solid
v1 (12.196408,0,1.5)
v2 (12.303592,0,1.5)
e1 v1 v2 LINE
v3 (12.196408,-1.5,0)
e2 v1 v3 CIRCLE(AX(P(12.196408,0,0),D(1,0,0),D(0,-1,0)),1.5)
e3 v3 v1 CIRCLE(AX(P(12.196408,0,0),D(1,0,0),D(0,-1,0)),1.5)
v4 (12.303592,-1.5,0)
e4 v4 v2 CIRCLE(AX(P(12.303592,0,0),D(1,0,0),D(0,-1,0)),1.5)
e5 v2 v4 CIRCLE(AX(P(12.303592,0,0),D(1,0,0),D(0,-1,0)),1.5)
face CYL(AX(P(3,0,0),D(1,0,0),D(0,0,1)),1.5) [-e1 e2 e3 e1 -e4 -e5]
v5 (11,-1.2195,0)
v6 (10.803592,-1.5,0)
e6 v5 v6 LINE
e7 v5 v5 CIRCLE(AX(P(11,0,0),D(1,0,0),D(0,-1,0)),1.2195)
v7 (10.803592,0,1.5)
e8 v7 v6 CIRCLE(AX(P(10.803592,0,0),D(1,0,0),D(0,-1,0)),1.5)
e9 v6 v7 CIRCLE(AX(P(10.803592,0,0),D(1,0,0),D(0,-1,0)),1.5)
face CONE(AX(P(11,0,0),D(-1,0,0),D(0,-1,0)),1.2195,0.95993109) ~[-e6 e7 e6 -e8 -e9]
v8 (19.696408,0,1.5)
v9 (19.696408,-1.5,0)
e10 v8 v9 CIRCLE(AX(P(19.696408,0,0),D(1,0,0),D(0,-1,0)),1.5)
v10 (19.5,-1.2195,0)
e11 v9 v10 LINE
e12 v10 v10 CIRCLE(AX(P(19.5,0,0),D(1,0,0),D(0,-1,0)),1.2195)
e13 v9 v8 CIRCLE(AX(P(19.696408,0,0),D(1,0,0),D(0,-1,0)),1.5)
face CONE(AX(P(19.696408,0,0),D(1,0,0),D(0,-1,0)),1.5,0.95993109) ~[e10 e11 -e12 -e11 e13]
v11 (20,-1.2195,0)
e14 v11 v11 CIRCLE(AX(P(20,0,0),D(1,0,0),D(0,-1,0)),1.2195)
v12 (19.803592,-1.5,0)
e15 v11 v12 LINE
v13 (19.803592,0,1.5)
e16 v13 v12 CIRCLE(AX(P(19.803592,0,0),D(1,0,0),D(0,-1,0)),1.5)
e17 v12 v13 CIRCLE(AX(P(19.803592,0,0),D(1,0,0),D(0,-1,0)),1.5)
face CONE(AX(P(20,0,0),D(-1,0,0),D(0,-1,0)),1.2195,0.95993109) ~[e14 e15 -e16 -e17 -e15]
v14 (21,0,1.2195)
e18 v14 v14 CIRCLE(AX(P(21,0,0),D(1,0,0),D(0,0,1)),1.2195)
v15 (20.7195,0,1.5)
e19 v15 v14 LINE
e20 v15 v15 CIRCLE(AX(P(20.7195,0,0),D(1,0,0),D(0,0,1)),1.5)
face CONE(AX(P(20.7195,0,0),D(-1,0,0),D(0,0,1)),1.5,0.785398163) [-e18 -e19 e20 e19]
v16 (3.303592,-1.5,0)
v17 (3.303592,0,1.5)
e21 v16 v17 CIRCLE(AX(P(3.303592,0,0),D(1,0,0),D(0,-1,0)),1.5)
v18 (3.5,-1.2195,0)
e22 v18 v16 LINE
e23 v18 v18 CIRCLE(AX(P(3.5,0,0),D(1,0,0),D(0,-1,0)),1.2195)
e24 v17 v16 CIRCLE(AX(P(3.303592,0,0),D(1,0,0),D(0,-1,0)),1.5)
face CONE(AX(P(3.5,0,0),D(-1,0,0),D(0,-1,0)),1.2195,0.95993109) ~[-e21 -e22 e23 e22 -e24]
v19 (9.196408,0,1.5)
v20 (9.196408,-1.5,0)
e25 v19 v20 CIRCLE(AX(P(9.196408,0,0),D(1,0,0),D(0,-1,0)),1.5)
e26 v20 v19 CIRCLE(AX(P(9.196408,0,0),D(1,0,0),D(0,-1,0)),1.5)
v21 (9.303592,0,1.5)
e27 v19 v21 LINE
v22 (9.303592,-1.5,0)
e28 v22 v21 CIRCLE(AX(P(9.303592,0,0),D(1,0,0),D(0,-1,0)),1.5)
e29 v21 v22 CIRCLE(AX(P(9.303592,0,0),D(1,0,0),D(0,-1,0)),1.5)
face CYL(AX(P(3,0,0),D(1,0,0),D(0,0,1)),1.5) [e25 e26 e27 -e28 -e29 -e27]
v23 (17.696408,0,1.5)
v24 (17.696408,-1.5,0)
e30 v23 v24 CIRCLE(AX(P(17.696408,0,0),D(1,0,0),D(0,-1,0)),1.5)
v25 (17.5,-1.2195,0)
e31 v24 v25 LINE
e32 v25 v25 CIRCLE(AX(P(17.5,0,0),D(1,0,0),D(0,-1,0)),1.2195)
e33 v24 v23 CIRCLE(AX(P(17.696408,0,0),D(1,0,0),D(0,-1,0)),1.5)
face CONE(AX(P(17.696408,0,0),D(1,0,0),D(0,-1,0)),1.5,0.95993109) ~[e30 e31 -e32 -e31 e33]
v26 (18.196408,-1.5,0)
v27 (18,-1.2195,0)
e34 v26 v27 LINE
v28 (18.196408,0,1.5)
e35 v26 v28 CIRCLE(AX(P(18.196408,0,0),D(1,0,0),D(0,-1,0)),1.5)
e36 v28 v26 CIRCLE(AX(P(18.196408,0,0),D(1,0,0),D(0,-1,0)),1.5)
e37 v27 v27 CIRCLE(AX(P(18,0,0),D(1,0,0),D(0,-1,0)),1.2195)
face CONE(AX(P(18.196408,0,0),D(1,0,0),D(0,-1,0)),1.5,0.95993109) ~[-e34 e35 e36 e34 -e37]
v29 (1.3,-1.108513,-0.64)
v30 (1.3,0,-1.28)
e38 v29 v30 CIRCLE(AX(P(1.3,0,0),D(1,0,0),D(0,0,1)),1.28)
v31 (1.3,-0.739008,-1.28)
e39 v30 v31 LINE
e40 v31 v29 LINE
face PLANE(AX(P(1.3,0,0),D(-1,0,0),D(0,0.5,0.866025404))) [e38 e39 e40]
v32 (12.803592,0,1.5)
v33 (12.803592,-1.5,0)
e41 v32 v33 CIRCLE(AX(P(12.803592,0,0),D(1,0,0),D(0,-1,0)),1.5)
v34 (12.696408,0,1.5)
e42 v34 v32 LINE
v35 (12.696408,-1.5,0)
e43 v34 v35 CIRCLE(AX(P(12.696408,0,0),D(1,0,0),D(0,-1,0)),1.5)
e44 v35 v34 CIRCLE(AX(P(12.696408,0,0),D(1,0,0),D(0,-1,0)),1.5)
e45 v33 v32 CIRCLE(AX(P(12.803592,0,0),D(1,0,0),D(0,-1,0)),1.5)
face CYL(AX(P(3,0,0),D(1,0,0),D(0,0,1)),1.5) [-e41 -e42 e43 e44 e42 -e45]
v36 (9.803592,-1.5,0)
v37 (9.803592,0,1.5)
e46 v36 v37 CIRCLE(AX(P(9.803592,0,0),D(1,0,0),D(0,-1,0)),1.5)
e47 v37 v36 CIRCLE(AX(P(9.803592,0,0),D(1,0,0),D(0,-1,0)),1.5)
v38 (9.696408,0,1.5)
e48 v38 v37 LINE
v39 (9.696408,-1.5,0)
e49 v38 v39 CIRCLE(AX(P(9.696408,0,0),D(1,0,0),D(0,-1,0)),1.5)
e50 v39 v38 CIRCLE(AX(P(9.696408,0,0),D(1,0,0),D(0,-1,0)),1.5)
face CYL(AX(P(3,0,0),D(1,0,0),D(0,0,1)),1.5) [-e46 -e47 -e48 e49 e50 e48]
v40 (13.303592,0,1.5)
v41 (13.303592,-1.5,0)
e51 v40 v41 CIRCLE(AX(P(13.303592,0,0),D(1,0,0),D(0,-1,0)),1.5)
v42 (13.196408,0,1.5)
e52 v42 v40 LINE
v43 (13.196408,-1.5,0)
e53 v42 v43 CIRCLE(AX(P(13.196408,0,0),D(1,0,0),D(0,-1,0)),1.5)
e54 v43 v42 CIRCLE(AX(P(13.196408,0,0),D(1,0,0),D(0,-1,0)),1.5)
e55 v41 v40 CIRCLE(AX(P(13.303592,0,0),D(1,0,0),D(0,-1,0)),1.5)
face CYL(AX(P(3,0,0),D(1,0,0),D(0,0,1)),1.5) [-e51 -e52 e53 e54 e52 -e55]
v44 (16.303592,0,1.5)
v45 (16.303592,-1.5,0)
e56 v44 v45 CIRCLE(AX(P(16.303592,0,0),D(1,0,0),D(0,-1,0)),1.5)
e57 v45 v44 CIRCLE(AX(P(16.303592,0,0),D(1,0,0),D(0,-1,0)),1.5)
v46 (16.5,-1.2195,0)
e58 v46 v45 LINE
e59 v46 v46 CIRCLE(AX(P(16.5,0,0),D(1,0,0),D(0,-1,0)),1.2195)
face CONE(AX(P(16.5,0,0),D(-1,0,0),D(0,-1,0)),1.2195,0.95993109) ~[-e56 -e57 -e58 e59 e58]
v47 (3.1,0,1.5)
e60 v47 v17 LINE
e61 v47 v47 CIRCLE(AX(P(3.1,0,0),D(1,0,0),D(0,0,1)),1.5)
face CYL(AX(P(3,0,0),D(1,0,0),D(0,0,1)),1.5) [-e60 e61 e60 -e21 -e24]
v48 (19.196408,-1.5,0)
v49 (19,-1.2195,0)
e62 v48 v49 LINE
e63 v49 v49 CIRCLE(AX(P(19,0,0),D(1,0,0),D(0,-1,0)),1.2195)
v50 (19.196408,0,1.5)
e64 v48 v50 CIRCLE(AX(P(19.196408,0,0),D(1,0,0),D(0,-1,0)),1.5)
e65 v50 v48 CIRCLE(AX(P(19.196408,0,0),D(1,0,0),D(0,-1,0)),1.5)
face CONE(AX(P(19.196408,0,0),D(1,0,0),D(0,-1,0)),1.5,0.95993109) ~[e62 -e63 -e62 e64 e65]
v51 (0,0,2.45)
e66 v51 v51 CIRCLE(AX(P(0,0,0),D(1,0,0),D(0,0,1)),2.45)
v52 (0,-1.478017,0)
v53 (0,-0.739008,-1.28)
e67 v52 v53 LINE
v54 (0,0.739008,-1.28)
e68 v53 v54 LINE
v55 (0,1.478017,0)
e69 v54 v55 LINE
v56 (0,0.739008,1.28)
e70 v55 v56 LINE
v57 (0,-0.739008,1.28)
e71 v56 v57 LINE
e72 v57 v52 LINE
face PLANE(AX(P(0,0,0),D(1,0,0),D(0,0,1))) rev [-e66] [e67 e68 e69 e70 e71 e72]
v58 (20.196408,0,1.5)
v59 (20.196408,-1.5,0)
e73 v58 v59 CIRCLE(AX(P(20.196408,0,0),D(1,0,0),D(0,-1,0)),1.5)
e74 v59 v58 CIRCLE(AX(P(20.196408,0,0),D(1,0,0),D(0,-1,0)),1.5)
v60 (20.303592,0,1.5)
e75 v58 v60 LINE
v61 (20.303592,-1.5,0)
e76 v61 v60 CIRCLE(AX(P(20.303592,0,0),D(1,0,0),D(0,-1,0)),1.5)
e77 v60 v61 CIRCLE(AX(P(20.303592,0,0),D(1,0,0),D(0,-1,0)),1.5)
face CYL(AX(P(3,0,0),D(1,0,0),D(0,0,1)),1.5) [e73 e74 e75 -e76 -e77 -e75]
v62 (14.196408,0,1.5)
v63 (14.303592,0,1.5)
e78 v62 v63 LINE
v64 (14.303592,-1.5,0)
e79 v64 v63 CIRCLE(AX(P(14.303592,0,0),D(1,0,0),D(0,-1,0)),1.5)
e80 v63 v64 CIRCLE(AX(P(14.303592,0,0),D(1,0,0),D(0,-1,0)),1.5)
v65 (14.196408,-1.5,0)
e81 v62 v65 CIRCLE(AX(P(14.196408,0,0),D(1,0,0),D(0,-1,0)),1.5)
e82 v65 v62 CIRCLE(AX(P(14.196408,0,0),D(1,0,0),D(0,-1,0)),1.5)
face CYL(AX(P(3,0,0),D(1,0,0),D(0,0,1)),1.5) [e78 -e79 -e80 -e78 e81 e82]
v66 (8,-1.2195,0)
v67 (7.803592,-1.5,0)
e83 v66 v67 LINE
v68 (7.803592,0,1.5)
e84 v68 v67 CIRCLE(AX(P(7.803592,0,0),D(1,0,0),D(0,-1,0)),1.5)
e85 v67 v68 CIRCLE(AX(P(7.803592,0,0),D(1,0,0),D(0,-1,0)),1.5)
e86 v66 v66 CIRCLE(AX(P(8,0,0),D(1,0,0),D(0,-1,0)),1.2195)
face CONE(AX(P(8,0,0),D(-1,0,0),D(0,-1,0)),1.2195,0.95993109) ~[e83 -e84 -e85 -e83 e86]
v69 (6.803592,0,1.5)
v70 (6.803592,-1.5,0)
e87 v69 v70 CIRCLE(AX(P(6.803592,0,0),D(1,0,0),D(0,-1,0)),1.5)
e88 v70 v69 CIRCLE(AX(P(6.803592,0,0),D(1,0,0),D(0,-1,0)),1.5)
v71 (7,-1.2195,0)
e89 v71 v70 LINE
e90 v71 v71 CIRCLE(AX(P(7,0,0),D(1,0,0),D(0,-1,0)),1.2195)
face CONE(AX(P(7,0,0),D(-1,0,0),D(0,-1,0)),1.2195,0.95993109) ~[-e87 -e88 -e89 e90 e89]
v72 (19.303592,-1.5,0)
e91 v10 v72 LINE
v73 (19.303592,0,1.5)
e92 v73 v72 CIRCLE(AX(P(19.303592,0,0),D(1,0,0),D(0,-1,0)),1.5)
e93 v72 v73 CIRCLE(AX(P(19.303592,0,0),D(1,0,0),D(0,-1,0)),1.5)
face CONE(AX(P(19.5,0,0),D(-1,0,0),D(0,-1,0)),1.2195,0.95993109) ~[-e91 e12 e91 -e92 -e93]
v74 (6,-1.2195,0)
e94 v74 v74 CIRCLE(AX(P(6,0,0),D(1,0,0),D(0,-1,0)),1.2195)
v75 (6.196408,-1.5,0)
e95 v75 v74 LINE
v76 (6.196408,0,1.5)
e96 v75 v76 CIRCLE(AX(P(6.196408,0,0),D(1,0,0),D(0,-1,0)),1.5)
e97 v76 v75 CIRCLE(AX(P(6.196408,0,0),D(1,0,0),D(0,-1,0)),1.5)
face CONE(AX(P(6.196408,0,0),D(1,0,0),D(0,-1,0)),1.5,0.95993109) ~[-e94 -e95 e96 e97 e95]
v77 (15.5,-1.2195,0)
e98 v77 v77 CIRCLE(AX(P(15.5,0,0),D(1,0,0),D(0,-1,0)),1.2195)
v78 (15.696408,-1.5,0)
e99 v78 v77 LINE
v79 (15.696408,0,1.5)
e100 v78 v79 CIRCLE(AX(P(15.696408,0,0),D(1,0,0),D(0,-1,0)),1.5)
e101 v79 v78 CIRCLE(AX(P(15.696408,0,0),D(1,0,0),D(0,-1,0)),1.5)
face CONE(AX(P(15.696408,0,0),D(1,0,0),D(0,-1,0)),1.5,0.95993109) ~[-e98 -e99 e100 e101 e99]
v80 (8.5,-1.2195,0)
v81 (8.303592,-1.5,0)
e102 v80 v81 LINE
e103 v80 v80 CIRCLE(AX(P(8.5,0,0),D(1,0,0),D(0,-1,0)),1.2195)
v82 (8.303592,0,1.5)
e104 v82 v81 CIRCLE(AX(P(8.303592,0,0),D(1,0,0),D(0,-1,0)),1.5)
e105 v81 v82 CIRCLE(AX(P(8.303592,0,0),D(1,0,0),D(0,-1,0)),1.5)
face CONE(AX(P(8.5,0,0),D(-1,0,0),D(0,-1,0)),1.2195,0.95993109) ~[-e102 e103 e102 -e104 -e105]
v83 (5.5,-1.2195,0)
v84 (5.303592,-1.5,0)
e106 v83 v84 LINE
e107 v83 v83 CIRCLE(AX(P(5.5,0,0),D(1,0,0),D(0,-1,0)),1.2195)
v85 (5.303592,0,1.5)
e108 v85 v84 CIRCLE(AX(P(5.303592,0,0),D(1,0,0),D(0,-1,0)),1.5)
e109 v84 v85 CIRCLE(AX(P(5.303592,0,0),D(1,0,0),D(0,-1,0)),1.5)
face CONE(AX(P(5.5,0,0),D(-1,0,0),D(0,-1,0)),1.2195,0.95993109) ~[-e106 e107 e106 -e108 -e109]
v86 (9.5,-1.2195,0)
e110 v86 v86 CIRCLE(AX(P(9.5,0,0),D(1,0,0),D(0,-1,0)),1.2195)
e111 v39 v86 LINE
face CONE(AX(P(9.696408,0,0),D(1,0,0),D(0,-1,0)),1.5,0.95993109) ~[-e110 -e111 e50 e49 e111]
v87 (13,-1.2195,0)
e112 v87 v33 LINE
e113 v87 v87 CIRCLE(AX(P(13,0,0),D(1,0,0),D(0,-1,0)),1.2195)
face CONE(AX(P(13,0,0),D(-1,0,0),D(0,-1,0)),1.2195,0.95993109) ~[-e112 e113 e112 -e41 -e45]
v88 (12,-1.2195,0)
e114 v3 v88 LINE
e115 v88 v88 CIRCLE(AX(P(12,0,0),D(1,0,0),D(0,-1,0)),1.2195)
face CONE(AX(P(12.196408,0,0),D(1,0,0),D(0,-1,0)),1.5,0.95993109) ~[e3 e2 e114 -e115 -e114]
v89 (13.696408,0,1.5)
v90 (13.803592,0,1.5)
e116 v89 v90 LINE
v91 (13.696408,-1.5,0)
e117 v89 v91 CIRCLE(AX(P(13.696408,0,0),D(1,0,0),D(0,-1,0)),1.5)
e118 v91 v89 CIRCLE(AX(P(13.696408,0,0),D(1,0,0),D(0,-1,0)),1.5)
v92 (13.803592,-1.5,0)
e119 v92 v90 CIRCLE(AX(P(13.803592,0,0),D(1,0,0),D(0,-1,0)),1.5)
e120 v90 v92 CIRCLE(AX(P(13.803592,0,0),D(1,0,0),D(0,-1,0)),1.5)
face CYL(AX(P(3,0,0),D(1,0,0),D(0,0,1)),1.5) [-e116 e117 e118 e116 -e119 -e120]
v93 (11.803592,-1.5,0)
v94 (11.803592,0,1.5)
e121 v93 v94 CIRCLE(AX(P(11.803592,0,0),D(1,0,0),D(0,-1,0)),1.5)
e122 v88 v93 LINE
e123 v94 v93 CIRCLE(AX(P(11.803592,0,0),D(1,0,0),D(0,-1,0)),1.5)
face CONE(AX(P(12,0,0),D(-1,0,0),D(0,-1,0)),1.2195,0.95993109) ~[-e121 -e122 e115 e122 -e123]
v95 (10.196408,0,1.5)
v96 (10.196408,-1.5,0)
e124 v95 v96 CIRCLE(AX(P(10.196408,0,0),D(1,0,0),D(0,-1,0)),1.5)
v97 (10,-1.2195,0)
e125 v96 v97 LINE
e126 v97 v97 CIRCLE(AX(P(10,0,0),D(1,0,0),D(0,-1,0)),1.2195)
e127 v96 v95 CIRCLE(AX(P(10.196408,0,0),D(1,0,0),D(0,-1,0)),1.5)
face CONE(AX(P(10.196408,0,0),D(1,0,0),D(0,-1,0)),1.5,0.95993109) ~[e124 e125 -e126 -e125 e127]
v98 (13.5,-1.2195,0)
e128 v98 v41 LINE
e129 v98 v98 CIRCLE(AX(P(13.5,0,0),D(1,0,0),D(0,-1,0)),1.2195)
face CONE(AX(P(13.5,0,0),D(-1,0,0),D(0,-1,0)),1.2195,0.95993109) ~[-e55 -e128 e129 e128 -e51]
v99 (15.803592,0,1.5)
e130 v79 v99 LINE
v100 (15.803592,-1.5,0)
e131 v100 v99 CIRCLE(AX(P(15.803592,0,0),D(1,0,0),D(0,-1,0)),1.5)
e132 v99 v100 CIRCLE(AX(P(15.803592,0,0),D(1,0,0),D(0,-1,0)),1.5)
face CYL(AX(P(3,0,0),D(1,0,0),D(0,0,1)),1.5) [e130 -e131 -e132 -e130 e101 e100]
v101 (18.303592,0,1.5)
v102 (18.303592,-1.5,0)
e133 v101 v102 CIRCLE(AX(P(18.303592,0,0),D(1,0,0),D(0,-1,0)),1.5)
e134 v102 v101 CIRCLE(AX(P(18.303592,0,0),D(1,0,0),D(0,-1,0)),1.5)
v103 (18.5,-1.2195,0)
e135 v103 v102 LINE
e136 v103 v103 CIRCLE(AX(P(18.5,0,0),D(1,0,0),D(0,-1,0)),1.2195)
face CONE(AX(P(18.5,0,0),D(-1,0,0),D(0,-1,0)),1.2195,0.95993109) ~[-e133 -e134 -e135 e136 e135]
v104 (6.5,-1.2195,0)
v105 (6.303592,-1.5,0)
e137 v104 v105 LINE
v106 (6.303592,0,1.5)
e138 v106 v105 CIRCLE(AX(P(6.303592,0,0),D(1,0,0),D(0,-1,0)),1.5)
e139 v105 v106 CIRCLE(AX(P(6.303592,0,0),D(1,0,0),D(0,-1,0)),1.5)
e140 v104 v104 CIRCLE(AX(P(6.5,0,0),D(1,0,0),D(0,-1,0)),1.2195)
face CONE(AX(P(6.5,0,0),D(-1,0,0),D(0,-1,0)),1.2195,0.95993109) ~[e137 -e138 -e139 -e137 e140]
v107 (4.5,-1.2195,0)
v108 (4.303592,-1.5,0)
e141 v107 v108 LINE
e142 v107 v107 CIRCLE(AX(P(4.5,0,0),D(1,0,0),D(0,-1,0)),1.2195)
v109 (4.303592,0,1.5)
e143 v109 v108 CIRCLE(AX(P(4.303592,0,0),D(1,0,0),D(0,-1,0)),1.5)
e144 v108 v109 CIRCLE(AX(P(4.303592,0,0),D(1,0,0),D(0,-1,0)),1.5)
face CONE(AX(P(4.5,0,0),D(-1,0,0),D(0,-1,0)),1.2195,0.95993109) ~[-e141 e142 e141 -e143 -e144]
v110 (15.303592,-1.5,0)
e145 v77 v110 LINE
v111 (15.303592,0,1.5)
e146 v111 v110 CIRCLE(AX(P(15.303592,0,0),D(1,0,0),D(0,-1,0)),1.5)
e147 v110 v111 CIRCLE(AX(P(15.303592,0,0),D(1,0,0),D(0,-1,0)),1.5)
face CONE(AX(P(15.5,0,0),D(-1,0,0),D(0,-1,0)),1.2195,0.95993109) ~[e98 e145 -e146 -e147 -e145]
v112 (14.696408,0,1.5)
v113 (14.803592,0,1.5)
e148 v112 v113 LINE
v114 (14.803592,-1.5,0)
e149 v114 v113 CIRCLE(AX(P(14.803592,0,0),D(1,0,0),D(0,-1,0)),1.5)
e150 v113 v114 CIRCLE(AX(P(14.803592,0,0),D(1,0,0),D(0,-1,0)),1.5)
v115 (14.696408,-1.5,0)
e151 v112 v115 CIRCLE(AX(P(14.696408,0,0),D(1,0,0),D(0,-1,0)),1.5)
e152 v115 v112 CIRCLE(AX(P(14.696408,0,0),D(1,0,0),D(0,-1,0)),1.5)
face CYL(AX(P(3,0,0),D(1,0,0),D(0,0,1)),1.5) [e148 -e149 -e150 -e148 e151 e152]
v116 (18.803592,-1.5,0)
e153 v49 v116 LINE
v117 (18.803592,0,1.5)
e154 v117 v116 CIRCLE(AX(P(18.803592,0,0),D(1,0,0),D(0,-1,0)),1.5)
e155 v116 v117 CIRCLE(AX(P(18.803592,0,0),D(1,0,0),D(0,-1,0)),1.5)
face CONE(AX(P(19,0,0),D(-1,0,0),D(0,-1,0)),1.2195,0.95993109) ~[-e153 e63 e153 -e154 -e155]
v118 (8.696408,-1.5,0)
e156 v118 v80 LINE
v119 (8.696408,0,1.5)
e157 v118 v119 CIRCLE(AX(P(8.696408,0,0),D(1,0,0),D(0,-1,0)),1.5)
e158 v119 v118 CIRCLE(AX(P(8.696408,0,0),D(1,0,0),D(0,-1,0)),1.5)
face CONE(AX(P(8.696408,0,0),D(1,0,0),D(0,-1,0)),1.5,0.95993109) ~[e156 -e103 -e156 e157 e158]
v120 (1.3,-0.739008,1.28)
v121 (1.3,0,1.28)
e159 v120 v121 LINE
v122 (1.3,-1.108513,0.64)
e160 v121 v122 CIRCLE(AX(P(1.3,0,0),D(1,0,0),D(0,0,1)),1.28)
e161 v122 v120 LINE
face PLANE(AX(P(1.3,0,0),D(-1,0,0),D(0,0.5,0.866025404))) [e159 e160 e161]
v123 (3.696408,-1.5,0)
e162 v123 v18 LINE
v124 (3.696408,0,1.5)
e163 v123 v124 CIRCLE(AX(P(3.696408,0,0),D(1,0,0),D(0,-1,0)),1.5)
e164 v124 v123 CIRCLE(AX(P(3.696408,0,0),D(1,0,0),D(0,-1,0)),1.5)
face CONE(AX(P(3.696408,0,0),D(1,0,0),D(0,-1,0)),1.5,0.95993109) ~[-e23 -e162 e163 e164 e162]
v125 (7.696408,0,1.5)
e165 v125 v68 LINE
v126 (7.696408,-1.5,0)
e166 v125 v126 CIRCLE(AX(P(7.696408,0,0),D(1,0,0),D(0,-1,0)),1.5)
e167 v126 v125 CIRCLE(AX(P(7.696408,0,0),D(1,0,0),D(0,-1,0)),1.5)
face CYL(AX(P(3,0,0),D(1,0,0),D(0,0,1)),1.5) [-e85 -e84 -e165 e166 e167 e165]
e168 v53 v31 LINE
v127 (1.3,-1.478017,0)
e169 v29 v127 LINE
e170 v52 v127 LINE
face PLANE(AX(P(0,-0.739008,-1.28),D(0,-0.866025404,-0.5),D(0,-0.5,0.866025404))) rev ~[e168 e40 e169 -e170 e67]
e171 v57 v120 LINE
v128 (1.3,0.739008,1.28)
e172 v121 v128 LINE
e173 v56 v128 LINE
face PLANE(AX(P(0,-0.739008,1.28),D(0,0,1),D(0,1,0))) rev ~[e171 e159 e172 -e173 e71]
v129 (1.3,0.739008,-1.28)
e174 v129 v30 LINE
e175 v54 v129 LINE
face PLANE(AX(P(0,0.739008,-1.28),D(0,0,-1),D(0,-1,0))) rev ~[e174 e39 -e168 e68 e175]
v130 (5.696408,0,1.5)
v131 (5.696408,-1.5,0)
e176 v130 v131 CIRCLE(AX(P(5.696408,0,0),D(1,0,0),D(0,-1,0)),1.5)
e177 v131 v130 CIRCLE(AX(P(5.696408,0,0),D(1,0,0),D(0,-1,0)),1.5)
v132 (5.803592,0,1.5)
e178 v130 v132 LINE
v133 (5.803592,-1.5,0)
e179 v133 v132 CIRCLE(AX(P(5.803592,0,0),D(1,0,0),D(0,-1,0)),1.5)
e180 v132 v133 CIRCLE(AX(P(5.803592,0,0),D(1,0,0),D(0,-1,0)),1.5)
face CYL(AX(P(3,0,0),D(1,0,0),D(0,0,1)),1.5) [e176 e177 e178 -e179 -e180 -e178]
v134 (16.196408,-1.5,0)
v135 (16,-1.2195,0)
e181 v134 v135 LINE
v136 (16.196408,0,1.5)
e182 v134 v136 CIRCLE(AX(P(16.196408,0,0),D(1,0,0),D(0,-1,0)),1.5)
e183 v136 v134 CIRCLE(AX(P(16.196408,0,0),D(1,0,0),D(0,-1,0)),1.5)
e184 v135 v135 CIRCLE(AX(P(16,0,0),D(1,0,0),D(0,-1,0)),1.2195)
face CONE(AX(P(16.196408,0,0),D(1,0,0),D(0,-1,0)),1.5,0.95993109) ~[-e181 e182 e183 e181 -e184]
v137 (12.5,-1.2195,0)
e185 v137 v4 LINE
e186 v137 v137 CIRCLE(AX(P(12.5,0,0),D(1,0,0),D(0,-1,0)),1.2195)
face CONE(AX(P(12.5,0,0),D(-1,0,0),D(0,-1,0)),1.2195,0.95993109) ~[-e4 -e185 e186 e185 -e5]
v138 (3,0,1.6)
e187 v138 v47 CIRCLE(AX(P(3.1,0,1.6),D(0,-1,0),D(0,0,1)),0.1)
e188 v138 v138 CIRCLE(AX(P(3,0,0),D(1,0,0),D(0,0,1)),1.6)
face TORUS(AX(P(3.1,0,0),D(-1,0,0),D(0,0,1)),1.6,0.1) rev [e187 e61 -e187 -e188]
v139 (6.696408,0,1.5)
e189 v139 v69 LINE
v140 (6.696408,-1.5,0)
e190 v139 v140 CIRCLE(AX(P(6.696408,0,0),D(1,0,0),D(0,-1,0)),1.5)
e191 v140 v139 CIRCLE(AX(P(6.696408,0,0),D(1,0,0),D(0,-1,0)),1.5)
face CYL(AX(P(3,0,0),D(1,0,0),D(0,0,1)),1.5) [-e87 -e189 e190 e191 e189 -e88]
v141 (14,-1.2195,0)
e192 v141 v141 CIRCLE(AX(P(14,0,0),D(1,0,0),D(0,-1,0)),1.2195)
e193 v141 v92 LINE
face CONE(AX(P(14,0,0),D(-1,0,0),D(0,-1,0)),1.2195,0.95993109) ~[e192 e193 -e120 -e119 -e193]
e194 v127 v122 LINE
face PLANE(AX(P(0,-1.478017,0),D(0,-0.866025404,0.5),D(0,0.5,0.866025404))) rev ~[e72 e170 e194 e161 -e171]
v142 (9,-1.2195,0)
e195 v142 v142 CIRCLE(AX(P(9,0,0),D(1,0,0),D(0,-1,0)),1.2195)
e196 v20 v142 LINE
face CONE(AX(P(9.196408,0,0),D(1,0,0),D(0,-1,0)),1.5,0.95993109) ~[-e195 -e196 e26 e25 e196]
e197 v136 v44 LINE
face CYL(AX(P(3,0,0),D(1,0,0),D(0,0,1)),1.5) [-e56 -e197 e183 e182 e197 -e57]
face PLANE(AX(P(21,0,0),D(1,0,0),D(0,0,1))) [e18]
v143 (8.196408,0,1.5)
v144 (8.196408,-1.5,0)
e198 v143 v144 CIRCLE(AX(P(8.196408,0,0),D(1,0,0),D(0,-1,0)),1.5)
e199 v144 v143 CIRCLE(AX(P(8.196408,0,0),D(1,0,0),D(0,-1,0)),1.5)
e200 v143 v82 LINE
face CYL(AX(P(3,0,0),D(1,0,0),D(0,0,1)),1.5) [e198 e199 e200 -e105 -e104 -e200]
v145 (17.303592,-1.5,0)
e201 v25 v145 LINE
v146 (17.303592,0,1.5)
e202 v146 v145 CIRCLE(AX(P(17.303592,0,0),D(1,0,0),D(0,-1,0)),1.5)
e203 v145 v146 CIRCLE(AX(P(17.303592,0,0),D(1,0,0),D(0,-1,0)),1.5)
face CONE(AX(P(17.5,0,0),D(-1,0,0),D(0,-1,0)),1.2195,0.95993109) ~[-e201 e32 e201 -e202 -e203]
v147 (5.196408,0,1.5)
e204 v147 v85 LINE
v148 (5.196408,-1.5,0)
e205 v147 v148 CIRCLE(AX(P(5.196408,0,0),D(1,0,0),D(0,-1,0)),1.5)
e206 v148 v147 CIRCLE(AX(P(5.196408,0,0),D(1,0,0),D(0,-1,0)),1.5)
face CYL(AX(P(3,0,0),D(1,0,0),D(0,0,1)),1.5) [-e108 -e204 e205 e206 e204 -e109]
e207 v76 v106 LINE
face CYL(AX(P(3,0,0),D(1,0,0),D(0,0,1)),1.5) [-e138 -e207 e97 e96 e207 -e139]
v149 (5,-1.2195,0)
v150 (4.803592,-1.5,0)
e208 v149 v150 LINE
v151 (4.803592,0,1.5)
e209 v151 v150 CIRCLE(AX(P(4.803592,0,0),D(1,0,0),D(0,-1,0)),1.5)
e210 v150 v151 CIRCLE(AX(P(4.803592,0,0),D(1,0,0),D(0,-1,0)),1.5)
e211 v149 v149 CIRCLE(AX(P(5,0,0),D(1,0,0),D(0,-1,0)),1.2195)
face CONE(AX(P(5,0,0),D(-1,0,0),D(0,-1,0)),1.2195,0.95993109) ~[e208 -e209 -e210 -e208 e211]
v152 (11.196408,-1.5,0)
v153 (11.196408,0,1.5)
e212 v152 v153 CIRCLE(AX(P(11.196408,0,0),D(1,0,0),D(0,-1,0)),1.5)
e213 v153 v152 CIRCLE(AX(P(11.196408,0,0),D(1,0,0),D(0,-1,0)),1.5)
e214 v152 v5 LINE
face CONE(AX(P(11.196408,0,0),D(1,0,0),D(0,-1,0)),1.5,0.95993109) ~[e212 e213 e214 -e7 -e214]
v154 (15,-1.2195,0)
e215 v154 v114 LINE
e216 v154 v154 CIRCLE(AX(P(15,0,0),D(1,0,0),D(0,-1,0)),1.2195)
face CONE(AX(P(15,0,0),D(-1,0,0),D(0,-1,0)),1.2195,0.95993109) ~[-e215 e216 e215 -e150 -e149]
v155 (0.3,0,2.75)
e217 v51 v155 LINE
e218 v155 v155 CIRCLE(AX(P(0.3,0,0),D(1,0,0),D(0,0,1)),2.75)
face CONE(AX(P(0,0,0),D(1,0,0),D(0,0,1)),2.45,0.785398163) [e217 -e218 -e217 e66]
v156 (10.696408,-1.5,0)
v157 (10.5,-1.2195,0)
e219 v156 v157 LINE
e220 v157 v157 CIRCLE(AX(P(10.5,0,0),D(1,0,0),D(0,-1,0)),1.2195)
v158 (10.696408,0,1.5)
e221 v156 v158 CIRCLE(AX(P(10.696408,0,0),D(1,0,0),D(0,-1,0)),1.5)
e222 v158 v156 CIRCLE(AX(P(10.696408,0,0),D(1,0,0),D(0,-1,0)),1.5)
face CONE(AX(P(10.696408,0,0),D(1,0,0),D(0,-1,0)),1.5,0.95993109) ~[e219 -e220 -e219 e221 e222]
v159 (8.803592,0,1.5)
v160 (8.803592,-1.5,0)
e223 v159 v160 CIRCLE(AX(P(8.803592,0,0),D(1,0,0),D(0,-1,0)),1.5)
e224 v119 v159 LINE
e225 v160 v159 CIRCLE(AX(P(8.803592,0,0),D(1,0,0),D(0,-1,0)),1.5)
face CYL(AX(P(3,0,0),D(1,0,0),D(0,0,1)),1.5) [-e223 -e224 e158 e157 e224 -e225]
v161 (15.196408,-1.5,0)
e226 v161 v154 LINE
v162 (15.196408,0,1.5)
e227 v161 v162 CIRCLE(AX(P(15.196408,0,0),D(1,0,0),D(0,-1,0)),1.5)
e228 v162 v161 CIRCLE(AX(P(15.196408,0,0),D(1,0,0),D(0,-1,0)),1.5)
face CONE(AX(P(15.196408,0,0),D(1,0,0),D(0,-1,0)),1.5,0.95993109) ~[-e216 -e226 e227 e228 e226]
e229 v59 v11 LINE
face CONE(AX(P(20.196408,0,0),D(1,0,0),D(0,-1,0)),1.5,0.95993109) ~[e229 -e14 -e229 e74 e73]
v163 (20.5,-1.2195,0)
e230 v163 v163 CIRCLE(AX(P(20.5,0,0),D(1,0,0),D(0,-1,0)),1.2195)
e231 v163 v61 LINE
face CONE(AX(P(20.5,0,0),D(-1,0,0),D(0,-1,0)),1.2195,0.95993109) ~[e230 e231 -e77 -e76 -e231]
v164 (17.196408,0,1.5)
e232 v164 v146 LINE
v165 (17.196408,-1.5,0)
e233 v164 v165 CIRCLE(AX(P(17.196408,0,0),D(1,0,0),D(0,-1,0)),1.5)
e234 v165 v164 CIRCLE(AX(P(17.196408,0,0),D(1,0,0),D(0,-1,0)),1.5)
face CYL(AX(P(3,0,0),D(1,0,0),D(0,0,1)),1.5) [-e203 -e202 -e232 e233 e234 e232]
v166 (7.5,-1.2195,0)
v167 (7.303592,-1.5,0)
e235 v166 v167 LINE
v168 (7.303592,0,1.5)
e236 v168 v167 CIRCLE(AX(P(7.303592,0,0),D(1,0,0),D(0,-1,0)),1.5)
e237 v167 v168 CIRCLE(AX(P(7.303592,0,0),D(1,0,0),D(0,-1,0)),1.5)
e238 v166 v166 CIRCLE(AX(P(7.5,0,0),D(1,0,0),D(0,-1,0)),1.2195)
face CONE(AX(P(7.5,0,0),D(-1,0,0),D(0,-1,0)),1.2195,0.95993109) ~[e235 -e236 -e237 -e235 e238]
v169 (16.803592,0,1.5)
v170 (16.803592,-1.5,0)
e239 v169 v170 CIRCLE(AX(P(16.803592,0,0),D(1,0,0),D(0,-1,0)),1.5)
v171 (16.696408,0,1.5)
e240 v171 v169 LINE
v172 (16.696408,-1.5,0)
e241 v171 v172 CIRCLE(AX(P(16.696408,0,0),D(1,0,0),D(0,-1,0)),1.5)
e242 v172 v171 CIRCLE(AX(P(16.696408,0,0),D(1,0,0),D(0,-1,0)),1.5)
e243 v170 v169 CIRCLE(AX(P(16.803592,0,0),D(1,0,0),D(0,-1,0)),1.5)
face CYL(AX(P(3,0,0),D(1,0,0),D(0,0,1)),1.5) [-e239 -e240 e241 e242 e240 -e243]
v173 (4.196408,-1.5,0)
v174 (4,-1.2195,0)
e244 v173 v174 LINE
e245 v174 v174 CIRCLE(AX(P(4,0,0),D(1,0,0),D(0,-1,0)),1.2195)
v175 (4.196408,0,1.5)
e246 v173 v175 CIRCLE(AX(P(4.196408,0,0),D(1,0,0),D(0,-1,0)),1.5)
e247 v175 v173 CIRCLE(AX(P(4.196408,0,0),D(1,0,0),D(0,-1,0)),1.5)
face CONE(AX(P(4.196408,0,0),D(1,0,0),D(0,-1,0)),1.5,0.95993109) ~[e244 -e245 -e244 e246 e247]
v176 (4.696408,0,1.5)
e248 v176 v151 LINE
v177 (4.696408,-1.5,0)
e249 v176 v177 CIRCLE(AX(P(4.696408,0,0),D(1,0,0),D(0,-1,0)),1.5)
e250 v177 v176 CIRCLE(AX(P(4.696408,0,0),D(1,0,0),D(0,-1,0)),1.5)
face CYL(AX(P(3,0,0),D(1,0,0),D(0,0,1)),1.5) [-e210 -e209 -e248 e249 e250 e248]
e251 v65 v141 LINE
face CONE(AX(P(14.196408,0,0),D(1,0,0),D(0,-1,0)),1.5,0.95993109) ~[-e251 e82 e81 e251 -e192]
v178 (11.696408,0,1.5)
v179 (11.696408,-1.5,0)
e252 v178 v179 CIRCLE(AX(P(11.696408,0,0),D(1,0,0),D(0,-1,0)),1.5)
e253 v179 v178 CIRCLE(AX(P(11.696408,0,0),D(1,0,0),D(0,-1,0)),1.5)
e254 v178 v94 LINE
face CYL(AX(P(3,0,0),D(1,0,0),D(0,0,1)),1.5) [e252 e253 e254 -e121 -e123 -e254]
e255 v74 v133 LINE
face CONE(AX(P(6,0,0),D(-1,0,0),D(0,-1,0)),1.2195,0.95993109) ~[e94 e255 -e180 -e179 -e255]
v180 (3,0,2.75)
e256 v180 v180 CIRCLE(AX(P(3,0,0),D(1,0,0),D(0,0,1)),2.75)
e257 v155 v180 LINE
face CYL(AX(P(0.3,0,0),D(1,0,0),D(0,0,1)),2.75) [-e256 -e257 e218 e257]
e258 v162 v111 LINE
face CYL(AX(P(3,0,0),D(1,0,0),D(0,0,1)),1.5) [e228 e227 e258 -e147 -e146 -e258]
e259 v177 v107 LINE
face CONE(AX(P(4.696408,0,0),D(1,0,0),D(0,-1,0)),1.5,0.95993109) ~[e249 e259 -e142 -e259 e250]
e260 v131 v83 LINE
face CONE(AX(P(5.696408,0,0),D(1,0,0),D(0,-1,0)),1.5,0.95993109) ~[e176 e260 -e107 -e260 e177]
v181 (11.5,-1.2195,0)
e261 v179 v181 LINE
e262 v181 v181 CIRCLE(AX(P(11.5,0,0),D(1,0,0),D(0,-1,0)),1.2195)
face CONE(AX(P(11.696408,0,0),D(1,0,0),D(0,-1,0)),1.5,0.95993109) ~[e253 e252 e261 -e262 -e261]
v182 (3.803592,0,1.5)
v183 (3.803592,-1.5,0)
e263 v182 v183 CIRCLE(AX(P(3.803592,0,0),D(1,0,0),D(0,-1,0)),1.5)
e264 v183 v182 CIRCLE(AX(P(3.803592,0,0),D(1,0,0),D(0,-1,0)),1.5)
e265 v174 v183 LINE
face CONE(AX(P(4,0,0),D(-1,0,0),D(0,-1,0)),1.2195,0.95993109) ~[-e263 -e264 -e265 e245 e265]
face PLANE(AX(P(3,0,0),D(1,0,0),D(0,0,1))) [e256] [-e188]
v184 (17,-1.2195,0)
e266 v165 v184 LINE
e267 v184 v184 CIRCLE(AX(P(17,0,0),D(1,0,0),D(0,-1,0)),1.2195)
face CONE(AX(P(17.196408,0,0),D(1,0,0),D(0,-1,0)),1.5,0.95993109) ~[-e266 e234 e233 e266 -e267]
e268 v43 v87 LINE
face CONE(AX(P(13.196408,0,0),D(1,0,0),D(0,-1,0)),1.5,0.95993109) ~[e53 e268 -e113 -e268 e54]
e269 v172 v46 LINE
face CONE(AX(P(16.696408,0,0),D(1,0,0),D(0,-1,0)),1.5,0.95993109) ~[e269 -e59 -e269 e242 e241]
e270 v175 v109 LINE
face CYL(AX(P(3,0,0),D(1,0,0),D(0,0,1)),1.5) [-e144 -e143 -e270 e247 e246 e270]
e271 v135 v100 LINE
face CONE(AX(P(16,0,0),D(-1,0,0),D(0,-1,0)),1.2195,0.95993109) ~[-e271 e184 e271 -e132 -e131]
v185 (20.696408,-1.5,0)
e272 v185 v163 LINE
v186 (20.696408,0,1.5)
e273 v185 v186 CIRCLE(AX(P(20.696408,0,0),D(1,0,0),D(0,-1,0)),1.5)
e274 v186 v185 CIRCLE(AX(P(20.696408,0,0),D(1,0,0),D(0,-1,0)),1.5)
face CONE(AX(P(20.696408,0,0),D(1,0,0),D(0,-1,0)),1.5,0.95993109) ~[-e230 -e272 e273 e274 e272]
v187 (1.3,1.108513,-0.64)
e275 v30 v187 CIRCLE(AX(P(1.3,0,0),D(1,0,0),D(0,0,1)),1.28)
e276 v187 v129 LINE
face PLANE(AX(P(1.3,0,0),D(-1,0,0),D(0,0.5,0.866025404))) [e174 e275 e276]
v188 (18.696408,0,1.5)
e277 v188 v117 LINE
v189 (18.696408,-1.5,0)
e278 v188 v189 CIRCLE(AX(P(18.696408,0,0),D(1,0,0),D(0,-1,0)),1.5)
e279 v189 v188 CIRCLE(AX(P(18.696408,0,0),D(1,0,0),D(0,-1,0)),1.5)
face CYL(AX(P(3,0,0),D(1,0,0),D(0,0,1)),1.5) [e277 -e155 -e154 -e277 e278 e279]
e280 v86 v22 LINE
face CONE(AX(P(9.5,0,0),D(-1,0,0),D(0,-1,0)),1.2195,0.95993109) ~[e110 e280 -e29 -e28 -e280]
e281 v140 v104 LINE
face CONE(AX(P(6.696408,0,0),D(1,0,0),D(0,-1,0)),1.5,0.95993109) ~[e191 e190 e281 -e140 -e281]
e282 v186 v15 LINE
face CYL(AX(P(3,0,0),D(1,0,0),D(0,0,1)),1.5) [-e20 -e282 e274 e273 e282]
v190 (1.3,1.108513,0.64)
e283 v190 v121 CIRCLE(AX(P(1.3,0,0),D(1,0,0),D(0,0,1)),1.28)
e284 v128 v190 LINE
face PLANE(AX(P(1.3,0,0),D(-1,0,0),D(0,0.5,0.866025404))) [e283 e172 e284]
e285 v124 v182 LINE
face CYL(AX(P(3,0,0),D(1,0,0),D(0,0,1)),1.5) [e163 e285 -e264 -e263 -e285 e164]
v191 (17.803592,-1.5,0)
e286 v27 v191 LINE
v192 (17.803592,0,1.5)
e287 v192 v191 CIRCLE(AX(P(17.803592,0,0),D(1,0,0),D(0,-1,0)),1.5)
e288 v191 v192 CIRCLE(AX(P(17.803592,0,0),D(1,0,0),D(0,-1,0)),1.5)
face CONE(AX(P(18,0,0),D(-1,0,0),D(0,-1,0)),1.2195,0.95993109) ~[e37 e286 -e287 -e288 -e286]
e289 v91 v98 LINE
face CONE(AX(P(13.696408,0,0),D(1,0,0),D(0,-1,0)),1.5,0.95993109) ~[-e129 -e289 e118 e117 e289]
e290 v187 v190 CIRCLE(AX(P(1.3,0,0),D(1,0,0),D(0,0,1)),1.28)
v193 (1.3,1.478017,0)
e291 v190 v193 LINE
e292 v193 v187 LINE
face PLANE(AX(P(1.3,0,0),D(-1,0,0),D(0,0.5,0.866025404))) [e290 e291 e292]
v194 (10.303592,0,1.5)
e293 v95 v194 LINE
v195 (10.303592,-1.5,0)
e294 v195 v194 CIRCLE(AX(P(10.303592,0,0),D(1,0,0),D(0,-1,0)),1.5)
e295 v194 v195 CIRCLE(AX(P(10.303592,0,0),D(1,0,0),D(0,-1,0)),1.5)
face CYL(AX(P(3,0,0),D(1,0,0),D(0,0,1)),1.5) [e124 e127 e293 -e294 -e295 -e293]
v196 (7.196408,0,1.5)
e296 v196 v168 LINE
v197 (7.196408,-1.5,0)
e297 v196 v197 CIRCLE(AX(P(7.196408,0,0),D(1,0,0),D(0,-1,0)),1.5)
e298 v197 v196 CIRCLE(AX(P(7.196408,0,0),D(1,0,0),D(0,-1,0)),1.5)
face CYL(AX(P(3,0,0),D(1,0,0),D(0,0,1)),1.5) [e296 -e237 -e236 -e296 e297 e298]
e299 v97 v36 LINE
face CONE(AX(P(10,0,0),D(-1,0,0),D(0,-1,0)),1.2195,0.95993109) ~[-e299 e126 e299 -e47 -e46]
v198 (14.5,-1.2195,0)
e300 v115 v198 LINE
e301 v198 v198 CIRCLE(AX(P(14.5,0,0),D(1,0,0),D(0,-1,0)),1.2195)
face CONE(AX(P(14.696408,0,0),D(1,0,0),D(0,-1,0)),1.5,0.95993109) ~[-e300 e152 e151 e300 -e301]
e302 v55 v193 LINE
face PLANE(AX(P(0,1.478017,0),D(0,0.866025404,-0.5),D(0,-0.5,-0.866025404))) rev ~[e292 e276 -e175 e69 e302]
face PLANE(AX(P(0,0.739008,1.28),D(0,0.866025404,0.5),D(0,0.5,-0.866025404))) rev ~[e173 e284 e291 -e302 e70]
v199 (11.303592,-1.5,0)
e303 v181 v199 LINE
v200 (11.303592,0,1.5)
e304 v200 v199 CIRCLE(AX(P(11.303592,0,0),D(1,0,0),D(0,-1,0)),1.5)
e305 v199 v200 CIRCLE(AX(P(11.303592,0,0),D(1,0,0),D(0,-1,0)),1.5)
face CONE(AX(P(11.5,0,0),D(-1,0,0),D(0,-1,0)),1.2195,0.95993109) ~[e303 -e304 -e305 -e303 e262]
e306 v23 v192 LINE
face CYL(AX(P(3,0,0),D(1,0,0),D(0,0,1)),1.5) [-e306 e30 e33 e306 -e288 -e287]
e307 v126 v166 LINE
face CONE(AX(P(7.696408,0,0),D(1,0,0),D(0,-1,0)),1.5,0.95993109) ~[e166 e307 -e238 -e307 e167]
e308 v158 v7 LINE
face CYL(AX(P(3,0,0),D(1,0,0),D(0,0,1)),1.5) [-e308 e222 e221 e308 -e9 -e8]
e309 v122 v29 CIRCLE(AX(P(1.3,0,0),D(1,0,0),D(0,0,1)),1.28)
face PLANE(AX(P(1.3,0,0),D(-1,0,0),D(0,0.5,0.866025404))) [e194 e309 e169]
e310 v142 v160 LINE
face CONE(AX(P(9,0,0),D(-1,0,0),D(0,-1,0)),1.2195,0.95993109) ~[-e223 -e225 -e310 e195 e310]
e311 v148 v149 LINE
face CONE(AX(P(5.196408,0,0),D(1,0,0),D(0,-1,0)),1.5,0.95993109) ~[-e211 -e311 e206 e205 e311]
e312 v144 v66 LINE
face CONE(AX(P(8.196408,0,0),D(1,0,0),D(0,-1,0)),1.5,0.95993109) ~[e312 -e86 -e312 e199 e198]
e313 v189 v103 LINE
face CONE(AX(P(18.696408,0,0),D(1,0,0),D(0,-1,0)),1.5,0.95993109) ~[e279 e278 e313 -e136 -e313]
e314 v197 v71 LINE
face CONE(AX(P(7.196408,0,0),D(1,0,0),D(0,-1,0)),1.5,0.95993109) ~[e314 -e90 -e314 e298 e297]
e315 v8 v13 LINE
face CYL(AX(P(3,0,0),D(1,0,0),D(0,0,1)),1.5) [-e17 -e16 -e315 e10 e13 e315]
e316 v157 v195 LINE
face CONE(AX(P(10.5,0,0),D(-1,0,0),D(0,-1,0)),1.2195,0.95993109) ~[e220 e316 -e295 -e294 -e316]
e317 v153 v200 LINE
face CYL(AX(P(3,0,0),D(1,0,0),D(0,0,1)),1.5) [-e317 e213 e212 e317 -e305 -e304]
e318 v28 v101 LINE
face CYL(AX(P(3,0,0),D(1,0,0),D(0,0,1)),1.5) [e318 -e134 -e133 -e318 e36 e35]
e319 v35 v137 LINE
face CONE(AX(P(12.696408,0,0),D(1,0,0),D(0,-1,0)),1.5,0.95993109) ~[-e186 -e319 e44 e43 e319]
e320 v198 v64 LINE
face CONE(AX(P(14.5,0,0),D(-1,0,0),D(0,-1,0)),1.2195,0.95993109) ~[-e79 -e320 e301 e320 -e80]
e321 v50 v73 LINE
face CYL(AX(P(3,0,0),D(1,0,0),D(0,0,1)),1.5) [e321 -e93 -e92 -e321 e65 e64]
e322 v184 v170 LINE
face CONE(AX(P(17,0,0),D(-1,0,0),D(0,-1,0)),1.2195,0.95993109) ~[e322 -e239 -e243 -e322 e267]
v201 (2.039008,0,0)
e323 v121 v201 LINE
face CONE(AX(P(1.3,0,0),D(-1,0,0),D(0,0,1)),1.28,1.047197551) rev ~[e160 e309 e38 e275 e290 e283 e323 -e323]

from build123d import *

# Parameters (mm, degrees)
FILLET1_R       = 0.1
HEX_2_DEPTH     = 1.3
THDSCHPAT_COUNT = 35
THDSCHPAT_PITCH = 0.5


with BuildPart() as part:
    # BodySke → Base-Revolve (revolve)
    with BuildSketch(Plane.XY, mode=Mode.PRIVATE) as base_revolve_sk:
        Polygon((0, 0), (0, 2.45), (0.3, 2.75), (3, 2.75), (3, 1.5), (20.7195, 1.5), (21, 1.2195), (21, 0), align=None)
    revolve(base_revolve_sk.sketch.rotate(Axis((-31.75, 0, 0), (1, 0, 0)), 90), axis=Axis((-31.75, 0, 0), (1, 0, 0)))

    # Fillet1
    fillet1_edges = [part.edges().sort_by_distance(p)[0] for p in [
        (3, 0, -1.5),
    ]]
    fillet(fillet1_edges, radius=FILLET1_R)

    # Sketch2 → Hex-PreBroach (revolve, cut)
    with BuildSketch(Plane.XY, mode=Mode.PRIVATE) as hex_prebroach_sk:
        Polygon((0, 1.28), (1.3, 1.28), (2.039008345, 0), (0, 0), align=None)
    revolve(hex_prebroach_sk.sketch.rotate(Axis((0, 0, 0), (1, 0, 0)), 90), axis=Axis((0, 0, 0), (1, 0, 0)), mode=Mode.SUBTRACT)

    # Sketch3 → Hex 2 (cut)
    with BuildSketch(Plane(origin=(0, 0, 0), x_dir=(0, 0.500000000000001, 0.866025403784438), z_dir=(-1, 0, 0))):
        Polygon((0.739008345, 1.28), (-0.739008345, 1.28), (-1.478016689, 0), (-0.739008345, -1.28), (0.739008345, -1.28), (1.478016689, 0), align=None)
    extrude(amount=-HEX_2_DEPTH, mode=Mode.SUBTRACT)

    # ThdSchSke → ThreadSchematic (revolve, cut)
    with BuildSketch(Plane.XY):
        Polygon((3.5, -1.2195), (3.303591786, -1.5), (3.303591786, -1.875), (3.696408214, -1.875), (3.696408214, -1.5), align=None)
    threadschematic = revolve(axis=Axis((-3.175, 0, 0), (1, 0, 0)), mode=Mode.SUBTRACT)

    # ThdSchPat: ThreadSchematic ×35
    with Locations(*[(i * THDSCHPAT_PITCH, 0, 0) for i in range(1, THDSCHPAT_COUNT)]):
        add(threadschematic, mode=Mode.SUBTRACT)


solid = part.part
